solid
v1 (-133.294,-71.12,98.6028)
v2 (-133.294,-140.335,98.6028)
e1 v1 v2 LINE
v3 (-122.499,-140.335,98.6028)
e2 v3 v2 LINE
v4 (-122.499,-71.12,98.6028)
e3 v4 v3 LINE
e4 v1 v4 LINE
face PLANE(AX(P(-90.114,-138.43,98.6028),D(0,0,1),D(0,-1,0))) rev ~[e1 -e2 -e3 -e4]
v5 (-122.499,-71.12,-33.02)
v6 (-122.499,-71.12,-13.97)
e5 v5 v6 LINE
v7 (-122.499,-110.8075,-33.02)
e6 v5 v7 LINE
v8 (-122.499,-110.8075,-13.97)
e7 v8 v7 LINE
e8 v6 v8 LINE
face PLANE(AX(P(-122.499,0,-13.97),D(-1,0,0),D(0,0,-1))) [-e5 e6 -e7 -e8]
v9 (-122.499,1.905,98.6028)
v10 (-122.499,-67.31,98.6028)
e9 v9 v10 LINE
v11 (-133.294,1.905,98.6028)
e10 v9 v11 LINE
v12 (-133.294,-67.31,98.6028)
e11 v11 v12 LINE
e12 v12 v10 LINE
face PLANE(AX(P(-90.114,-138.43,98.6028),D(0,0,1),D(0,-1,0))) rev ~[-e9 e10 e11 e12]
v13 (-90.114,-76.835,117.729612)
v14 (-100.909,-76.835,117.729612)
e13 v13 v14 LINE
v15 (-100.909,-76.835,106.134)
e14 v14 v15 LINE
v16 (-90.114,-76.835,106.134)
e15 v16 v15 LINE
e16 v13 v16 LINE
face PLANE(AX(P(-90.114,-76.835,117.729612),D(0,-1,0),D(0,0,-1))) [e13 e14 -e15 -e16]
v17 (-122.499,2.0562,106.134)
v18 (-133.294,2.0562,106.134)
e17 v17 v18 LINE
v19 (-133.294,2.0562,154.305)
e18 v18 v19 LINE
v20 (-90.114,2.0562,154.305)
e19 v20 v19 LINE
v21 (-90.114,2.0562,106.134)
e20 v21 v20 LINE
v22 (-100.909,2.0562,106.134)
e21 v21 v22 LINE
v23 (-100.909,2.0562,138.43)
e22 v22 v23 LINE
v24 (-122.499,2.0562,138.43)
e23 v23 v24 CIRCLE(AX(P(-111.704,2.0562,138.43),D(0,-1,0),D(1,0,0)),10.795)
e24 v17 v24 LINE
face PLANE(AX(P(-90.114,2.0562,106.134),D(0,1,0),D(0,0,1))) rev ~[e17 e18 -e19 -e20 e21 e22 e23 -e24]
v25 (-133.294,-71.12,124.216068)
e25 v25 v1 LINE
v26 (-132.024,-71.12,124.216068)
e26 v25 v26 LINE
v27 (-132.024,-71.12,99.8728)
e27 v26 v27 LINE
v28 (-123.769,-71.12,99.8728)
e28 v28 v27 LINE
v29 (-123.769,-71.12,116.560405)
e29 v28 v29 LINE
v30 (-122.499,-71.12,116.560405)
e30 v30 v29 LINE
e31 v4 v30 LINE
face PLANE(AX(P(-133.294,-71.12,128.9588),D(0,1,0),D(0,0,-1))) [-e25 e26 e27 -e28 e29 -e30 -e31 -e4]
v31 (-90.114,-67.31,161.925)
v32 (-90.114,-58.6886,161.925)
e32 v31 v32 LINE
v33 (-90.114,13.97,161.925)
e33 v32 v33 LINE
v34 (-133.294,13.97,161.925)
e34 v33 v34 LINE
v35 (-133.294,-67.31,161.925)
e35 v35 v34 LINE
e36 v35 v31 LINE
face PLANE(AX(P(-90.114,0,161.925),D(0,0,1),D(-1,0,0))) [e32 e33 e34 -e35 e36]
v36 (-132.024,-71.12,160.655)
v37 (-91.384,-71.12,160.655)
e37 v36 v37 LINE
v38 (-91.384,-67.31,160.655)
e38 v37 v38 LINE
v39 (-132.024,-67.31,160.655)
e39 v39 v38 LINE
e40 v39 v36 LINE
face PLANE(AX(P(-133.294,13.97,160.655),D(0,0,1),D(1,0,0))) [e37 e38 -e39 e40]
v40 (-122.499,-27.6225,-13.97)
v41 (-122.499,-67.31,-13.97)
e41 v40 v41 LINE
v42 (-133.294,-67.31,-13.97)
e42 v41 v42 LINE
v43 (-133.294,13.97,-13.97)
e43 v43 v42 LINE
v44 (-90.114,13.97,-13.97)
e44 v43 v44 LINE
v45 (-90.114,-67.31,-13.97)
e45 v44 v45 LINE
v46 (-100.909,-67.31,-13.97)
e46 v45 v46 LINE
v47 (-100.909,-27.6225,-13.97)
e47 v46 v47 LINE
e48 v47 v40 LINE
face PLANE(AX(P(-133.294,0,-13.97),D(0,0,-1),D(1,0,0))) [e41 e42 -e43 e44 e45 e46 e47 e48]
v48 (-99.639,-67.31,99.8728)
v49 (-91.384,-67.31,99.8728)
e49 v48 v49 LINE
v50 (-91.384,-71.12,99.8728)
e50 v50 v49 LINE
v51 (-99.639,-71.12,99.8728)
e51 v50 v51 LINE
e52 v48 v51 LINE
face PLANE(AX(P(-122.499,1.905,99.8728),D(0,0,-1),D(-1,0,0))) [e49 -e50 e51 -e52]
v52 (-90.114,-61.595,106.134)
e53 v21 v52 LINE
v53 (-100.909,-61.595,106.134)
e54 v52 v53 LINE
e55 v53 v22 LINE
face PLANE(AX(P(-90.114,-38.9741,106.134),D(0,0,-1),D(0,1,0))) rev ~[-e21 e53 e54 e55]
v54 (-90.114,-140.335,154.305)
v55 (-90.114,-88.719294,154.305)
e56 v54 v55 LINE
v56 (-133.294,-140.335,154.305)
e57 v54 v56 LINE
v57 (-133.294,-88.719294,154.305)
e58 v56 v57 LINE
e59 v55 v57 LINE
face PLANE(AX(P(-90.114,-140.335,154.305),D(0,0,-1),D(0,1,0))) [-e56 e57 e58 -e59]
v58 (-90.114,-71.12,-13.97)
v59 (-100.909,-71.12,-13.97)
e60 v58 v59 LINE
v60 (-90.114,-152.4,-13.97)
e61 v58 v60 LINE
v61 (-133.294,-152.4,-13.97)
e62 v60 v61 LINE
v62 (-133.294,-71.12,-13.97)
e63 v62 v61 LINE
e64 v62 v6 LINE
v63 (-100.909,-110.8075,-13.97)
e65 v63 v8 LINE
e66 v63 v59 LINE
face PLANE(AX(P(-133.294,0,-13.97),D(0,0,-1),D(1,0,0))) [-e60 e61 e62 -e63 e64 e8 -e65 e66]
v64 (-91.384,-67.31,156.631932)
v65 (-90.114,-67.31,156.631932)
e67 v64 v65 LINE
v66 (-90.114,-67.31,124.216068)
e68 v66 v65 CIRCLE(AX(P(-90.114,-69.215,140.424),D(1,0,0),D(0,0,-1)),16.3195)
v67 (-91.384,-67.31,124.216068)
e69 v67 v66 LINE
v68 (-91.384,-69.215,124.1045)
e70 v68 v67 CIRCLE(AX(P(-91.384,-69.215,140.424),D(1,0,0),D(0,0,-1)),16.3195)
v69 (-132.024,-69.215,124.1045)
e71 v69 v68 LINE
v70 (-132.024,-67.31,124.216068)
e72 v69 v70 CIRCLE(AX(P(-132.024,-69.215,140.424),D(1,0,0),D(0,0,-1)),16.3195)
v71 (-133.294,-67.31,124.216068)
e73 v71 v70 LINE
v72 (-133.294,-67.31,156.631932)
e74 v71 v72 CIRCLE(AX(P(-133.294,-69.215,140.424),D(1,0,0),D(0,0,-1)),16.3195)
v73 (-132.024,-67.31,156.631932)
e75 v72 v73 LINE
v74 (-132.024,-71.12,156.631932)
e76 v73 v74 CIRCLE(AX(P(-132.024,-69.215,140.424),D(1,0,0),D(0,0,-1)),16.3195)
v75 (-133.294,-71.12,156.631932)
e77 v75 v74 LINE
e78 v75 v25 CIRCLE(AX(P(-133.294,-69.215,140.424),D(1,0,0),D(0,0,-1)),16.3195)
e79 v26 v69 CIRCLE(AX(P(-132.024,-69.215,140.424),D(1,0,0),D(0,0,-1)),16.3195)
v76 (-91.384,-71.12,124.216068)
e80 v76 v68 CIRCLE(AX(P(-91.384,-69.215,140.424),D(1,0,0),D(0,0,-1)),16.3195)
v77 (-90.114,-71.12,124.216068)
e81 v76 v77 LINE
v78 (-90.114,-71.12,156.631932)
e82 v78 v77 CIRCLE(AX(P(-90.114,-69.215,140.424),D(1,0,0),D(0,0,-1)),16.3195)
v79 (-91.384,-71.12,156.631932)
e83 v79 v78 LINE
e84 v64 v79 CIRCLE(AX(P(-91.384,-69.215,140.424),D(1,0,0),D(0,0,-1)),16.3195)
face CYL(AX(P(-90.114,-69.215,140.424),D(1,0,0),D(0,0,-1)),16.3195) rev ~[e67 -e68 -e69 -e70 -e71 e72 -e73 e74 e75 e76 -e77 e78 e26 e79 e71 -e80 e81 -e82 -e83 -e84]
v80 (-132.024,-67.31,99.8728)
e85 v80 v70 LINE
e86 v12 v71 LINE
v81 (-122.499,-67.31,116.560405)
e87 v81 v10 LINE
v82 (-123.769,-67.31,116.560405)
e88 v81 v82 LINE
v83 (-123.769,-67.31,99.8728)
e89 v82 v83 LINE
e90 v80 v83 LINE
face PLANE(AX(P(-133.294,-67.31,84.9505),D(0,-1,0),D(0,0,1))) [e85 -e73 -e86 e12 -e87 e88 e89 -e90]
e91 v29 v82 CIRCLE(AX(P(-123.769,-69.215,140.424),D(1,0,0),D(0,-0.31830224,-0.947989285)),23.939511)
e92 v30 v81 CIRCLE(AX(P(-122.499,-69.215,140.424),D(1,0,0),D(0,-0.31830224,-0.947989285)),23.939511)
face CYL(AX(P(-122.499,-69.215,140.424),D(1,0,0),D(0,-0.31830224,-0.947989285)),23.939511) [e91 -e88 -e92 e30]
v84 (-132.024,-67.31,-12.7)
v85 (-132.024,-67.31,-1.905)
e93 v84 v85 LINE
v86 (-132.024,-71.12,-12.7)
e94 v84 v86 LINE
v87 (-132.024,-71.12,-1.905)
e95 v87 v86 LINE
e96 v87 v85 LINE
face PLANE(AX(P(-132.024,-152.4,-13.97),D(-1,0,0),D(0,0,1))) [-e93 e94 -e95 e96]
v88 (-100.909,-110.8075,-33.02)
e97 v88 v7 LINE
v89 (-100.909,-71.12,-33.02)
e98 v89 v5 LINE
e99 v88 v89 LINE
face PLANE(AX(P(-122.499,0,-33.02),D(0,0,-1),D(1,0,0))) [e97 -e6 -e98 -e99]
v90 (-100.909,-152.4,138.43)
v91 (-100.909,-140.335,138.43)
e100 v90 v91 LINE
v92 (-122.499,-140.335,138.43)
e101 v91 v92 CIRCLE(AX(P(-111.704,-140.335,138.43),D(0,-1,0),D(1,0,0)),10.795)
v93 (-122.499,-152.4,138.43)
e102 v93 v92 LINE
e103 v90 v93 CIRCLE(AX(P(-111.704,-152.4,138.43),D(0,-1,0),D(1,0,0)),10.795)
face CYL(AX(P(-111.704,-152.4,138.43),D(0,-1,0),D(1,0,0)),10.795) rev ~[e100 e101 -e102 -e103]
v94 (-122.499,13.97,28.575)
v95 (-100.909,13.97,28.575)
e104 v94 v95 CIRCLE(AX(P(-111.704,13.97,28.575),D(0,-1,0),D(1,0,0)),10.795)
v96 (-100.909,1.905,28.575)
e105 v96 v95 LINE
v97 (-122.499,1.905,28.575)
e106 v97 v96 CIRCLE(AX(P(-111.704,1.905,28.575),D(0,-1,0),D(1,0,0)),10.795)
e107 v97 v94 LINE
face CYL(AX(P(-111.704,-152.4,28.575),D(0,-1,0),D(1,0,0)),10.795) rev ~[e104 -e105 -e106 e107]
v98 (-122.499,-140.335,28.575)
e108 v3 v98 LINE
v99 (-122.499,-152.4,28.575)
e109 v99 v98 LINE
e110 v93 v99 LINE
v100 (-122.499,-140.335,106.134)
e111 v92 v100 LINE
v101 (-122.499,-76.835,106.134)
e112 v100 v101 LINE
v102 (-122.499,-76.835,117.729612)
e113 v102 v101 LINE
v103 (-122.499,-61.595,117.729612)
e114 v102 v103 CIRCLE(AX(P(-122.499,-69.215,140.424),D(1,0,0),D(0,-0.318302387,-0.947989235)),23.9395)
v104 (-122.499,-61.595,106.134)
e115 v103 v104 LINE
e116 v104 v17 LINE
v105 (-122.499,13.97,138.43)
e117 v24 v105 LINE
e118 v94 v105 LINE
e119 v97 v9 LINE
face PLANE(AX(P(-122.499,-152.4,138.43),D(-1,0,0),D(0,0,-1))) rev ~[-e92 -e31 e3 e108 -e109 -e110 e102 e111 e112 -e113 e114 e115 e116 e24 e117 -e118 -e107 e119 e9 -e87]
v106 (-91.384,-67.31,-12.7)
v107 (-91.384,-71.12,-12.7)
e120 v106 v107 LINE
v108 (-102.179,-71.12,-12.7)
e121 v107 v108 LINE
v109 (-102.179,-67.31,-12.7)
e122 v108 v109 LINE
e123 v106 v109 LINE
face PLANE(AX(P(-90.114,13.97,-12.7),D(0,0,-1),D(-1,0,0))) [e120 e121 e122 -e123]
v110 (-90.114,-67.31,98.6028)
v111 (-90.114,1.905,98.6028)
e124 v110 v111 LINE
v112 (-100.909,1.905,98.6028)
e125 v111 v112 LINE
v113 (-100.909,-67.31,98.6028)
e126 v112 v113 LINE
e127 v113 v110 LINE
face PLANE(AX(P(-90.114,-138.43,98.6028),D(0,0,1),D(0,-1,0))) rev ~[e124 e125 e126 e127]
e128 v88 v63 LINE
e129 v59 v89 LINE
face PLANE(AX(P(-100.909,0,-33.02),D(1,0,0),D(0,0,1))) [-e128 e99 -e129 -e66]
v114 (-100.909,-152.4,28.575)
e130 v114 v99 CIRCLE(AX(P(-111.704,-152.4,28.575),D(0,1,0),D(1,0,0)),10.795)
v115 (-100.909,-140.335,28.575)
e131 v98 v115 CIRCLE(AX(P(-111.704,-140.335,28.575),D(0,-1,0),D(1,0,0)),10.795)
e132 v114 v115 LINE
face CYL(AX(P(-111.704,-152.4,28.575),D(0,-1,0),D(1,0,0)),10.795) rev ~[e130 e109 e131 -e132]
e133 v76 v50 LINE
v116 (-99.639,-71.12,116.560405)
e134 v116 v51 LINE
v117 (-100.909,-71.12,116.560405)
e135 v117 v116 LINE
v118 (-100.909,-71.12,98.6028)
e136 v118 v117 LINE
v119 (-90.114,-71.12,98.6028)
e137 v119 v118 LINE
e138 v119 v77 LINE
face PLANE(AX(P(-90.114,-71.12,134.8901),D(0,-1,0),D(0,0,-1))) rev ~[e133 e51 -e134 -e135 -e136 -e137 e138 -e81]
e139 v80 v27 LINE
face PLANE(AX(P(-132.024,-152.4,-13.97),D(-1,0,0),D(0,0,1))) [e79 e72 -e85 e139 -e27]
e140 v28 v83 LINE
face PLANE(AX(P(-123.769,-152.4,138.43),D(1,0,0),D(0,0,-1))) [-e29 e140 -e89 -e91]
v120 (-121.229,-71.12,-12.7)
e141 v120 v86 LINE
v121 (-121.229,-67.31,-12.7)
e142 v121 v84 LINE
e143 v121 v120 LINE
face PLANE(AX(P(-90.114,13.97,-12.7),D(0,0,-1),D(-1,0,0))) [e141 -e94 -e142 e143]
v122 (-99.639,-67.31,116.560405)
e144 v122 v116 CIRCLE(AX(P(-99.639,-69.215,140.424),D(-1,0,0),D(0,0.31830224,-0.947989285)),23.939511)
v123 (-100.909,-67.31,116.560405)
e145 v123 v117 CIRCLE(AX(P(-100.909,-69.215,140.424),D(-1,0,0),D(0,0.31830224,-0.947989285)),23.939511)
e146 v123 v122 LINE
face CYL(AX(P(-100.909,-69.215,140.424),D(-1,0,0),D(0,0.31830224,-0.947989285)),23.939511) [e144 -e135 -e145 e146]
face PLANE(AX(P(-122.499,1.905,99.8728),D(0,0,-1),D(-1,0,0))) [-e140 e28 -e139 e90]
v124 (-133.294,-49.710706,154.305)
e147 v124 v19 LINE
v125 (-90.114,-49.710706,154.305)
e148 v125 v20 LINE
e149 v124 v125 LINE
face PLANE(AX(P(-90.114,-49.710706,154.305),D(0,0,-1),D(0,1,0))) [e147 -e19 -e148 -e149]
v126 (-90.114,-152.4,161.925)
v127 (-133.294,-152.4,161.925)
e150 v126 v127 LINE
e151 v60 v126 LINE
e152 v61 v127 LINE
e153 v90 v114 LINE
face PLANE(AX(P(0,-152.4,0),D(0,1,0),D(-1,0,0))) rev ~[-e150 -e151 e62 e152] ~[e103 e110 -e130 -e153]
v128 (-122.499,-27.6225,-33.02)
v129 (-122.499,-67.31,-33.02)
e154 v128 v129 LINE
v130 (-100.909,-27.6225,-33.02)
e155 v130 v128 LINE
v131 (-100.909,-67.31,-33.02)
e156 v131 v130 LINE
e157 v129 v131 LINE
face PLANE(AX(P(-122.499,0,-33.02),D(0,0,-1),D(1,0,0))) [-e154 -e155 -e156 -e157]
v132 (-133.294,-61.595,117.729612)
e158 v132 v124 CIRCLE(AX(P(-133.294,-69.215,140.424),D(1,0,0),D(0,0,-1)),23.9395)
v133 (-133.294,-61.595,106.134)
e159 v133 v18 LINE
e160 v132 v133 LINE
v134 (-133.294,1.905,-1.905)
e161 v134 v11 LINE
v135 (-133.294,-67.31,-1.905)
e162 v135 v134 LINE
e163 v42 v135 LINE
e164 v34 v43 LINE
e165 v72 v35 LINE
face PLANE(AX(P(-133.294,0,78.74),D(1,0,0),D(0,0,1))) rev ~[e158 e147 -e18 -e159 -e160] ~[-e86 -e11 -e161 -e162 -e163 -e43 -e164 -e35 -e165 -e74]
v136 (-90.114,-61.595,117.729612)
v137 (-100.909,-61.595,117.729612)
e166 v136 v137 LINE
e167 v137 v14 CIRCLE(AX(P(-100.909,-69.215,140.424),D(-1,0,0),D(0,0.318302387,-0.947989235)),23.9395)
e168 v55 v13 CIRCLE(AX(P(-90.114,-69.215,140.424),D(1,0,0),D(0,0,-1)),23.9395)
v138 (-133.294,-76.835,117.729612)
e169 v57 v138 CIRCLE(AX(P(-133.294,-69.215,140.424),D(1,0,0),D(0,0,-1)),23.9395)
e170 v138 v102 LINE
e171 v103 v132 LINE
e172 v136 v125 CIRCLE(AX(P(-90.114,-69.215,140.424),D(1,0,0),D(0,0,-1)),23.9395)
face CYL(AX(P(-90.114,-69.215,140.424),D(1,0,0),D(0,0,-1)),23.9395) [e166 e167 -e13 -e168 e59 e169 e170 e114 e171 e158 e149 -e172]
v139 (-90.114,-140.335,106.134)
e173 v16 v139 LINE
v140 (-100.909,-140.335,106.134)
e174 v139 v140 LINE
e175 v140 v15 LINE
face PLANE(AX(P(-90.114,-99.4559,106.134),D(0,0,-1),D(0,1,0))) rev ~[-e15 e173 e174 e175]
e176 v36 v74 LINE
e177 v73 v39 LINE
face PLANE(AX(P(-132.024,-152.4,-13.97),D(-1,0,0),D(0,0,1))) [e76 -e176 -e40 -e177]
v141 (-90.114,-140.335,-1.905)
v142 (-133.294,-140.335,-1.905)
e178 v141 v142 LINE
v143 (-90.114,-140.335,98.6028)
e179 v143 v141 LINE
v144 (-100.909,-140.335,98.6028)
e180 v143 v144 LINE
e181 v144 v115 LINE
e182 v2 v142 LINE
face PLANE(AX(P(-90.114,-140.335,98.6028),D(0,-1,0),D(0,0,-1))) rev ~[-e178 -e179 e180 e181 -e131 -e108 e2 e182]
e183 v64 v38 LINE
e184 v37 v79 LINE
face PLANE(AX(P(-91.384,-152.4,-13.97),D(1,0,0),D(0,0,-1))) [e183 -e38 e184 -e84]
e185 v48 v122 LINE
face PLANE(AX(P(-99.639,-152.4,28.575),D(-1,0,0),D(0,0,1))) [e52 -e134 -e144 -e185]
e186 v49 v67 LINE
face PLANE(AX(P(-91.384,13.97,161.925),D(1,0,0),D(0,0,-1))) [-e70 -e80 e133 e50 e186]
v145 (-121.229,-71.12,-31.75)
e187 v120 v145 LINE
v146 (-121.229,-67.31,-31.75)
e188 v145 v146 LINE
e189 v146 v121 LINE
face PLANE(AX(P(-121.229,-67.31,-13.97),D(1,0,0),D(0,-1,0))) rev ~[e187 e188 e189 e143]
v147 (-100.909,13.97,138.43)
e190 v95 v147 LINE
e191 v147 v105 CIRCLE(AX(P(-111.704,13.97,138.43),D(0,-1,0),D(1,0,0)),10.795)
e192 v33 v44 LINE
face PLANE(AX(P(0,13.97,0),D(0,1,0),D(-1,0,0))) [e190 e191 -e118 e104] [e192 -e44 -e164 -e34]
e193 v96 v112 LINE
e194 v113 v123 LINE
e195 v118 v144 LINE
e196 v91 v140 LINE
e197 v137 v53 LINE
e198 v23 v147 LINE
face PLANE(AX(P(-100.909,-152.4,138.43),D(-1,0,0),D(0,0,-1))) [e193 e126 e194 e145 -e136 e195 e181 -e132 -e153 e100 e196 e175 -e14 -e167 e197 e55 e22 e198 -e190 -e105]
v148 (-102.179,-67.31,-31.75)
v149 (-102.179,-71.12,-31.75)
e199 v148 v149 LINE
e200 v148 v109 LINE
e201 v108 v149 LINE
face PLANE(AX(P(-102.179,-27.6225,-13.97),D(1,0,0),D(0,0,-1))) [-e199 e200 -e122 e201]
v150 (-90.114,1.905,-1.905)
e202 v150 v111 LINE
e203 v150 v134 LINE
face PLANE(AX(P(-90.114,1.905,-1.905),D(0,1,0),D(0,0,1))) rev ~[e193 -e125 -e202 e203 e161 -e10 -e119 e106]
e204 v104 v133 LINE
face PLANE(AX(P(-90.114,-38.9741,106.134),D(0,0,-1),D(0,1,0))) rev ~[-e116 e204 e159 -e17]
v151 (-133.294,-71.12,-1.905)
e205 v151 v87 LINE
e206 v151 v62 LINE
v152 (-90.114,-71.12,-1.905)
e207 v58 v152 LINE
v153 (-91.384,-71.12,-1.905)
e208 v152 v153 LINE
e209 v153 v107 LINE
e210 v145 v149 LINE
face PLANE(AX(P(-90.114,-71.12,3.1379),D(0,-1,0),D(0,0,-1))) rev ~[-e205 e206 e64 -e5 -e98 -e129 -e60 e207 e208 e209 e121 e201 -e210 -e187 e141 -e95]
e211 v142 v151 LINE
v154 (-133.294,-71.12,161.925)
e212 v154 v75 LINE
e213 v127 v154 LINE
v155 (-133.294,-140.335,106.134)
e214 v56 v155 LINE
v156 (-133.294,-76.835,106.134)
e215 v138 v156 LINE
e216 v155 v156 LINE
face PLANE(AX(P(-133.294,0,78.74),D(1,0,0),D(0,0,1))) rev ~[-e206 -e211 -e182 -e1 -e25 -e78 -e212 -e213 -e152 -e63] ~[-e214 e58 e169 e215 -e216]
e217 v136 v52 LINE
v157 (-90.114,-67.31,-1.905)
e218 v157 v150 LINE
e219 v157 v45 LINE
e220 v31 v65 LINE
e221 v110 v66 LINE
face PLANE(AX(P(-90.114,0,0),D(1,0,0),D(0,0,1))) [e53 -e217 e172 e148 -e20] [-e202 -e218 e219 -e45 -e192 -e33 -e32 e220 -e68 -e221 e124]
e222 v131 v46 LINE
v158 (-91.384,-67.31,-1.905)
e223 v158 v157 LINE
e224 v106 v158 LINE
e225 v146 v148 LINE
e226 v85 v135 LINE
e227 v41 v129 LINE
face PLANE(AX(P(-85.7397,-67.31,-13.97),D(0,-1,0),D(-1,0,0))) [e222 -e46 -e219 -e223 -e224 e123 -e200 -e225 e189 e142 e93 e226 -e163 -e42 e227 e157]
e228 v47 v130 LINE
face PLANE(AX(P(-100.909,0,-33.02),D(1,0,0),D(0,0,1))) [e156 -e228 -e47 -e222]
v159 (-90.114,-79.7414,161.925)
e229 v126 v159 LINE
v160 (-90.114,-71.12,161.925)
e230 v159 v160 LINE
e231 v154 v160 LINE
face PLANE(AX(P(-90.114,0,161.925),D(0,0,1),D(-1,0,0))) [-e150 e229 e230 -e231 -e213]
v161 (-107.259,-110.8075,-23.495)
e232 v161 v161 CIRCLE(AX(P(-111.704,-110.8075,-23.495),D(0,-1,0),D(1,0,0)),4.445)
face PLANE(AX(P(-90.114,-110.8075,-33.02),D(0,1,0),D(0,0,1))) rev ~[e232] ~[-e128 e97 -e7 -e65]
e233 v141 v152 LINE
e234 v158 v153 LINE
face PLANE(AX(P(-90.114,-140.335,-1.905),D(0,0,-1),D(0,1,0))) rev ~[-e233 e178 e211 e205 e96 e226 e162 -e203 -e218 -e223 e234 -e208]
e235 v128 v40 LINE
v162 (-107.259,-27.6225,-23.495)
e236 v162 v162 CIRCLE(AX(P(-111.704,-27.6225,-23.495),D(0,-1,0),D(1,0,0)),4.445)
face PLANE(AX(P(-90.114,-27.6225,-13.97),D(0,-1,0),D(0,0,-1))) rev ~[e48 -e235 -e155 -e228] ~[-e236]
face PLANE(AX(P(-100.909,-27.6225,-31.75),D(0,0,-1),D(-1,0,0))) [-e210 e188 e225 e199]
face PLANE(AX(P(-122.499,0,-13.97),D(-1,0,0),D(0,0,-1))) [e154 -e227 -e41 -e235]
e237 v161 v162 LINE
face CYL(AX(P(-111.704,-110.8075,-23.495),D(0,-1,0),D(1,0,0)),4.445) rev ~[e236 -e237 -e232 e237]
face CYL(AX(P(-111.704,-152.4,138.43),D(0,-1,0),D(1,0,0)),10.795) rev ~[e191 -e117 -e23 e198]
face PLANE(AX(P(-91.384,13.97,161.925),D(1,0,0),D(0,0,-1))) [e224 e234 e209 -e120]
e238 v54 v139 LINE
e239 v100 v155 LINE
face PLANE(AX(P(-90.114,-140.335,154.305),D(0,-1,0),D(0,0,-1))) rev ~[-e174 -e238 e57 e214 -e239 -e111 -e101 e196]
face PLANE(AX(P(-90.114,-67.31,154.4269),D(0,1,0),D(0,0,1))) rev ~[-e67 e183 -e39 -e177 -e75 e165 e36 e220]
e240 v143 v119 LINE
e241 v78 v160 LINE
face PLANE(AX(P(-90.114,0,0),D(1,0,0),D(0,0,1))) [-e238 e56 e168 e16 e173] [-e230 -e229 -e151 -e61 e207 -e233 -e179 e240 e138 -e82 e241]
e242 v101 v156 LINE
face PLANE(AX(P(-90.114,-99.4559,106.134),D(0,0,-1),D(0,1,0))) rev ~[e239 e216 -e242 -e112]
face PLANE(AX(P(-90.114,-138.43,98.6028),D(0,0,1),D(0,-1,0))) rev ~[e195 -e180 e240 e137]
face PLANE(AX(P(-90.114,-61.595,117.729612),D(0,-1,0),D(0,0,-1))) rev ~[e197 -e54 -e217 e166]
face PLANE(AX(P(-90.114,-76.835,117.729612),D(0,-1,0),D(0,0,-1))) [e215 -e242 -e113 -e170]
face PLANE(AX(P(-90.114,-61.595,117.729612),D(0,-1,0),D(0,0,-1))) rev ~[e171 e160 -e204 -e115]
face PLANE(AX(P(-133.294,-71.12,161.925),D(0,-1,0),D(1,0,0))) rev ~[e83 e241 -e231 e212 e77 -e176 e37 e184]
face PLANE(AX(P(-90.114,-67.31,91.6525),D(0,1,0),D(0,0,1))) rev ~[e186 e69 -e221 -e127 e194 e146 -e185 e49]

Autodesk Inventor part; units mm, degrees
ref_plane "YZ Plane" through (0, 0, 0) normal (1, 0, 0) x (0, 1, 0)
ref_plane "XZ Plane" through (0, 0, 0) normal (0, 1, 0) x (-1, 0, 0)
ref_plane "XY Plane" through (0, 0, 0) normal (0, 0, 1) x (1, 0, 0)
sketch "Sketch1" plane through (0, 0, 0) normal (0, 1, 0) x (-1, 0, 0)
  line L0 (920.75, 0) -> (0, 0)
  line L1 (0, 0) -> (920.75, 0)
  line L2 (-297.6389, 409.8513) -> (2710.7909, 409.8513) construction
  line L3 (2710.7909, 409.8513) -> (2710.7909, -1716.9746) construction
  line L4 (2710.7909, -1716.9746) -> (-297.6389, -1716.9746) construction
  line L5 (-297.6389, -1716.9746) -> (-297.6389, 409.8513) construction
  line L6 (0, 0) -> (920.75, 0)
  line L7 (920.75, 0) -> (920.75, 100.33)
  line L8 (0, 100.33) -> (920.75, 100.33)
  line L9 (0, 0) -> (0, 100.33)
  line L10 (0, 100.33) -> (0, 120.65)
  line L11 (0, 120.65) -> (920.75, 120.65)
  line L12 (920.75, 120.65) -> (920.75, 100.33)
  line L13 (0, 120.65) -> (0, 196.85)
  line L14 (920.75, 196.85) -> (920.75, 120.65)
  line L15 (477.9962, 0) -> (477.9962, -13.97)
  line L16 (477.9962, -13.97) -> (434.8162, -13.97)
  line L17 (434.8162, -13.97) -> (434.8162, 0)
  line L18 (133.294, 0) -> (133.294, -13.97)
  line L19 (133.294, -13.97) -> (90.114, -13.97)
  line L20 (90.114, -13.97) -> (90.114, 0)
  line L21 (769.0257, 0) -> (769.0257, -13.97)
  line L22 (769.0257, -13.97) -> (812.2057, -13.97)
  line L23 (812.2057, -13.97) -> (812.2057, 0)
  line L24 (434.8162, -13.97) -> (477.9962, -13.97)
  line L25 (769.0257, -13.97) -> (812.2057, -13.97)
  line L26 (90.114, -13.97) -> (133.294, -13.97)
  line L27 (90.114, -13.97) -> (111.704, -13.97)
  line L28 (111.704, -13.97) -> (100.909, -13.97)
  line L29 (100.909, -13.97) -> (122.499, -13.97)
  line L30 (122.499, -13.97) -> (122.499, -33.02)
  line L31 (122.499, -33.02) -> (100.909, -33.02)
  line L32 (100.909, -33.02) -> (100.909, -13.97)
  line L33 (434.8162, -13.97) -> (456.4062, -13.97)
  line L34 (456.4062, -13.97) -> (445.6112, -13.97)
  line L35 (445.6112, -13.97) -> (467.2012, -13.97)
  line L36 (467.2012, -13.97) -> (467.2012, -33.02)
  line L37 (467.2012, -33.02) -> (445.6112, -33.02)
  line L38 (445.6112, -33.02) -> (445.6112, -13.97)
  line L39 (769.0257, -13.97) -> (790.6157, -13.97)
  line L40 (790.6157, -13.97) -> (779.8207, -13.97)
  line L41 (779.8207, -13.97) -> (801.4107, -13.97)
  line L42 (801.4107, -13.97) -> (801.4107, -33.02)
  line L43 (801.4107, -33.02) -> (779.8207, -33.02)
  line L44 (779.8207, -33.02) -> (779.8207, -13.97)
  line L45 (434.8162, 0) -> (413.2262, 0)
  line L46 (413.2262, 0) -> (413.2262, -11.43)
  line L47 (413.2262, -11.43) -> (371.9512, -11.43)
  line L48 (371.9512, -11.43) -> (371.9512, 64.77)
  arc A0 (413.2262, 72.0379) -> (371.9512, 72.0379) centre (392.5887, 68.404) ccw
  line L49 (413.2262, 0) -> (413.2262, 64.77)
  line L50 (371.9512, 64.77) -> (371.9512, 72.0379)
  line L51 (413.2262, 64.77) -> (413.2262, 72.0379)
  line L52 (434.8162, -13.97) -> (434.8162, 202.565)
  line L53 (477.9962, -13.97) -> (477.9962, 202.565)
  line L54 (769.0257, -13.97) -> (769.0257, 202.565)
  line L55 (812.2057, -13.97) -> (812.2057, 202.565)
  line L56 (812.2057, 202.565) -> (769.0257, 202.565)
  line L57 (477.9962, 202.565) -> (434.8162, 202.565)
  line L58 (133.294, -13.97) -> (133.294, 182.245)
  line L59 (90.114, -13.97) -> (90.114, 182.245)
  line L60 (90.114, 182.245) -> (133.294, 182.245)
  line L61 (67.3834, 182.245) -> (164.6776, 182.245)
  line L62 (413.2262, 202.565) -> (508.4774, 202.565)
  line L63 (745.5808, 202.565) -> (847.3717, 202.565)
  line L64 (67.3834, 161.925) -> (164.6776, 161.925)
  line L65 (413.2262, 182.245) -> (508.4774, 182.245)
  line L66 (745.5808, 182.245) -> (847.3717, 182.245)
  line L67 (133.294, -13.97) -> (133.294, 78.74)
  line L68 (133.294, 78.74) -> (434.8162, 78.74)
  line L69 (133.294, -13.97) -> (133.294, 26.67)
  line L70 (133.294, 26.67) -> (371.9512, 26.67)
  line L71 (133.294, 26.67) -> (298.394, 26.67)
  line L72 (298.394, 26.67) -> (317.7759, 78.74)
  line L73 (133.294, 78.74) -> (133.294, 59.055)
  line L74 (133.294, 59.055) -> (310.4486, 59.055)
  point P0 (133.294, 161.925)
  point P1 (90.114, 161.925)
  dimension "d0" = 920.75
  dimension "d1" = 20.32
  dimension "d2" = 76.2
  dimension "d3" = 13.97
  dimension "d4" = 43.18
  dimension "d5" = 13.97
  dimension "d6" = 43.18
  dimension "d7" = 13.97
  dimension "d8" = 13.97
  dimension "d9" = 43.18
  dimension "d10" = 21.59
  dimension "d11" = 19.05
  dimension "d12" = 21.59
  dimension "d13" = 19.05
  dimension "d14" = 21.59
  dimension "d15" = 19.05
  dimension "d16" = 21.59
  dimension "d17" = 11.43
  dimension "d18" = 41.275
  dimension "d19" = 76.2
  dimension "d20" = 20.955
  dimension "d21" = 216.535
  dimension "d22" = 216.535
  dimension "d23" = 216.535
  dimension "d24" = 216.535
  dimension "d25" = 196.215
  dimension "d26" = 20.32
  dimension "d27" = 20.32
  dimension "d28" = 20.32
  dimension "d29" = 92.71
  dimension "d30" = 40.64
  dimension "d31" = 165.1
  dimension "d32" = 19.685
extrude "Extrusion1" add sketch "Sketch1" along normal blind 13.97 and the other way blind 152.4 contours L58 L0 L59 L8 | L8 L59 L11 L58 | L18 L19 L20 L0 | L11 L59 L64 L58 | L30 L31 L32 L19
sketch "Sketch2" plane through (-90.114, -152.4, -13.97) normal (1, 0, 0) x (0, 0, -1)
  line L0 (0, 0) -> (0, 166.37) projected
  line L1 (-175.895, 166.37) -> (0, 166.37) projected
  line L2 (-175.895, 166.37) -> (-175.895, 0) projected
  line L3 (0, 0) -> (-175.895, 0) projected
  line L4 (-13.97, 152.4) -> (-13.97, 13.97)
  line L5 (-13.97, 13.97) -> (-161.925, 13.97)
  line L6 (-161.925, 13.97) -> (-161.925, 152.4)
  line L7 (-161.925, 152.4) -> (-13.97, 152.4)
  line L8 (-12.065, 12.065) -> (-12.065, 154.305)
  line L9 (-12.065, 154.305) -> (-163.83, 154.305)
  line L10 (-163.83, 154.305) -> (-163.83, 12.065)
  line L11 (-163.83, 12.065) -> (-12.065, 12.065)
  line L12 (-12.065, 70.3973) -> (-112.5728, 70.3973)
  line L13 (-112.5728, 70.3973) -> (-112.5728, 191.5999)
  line L14 (-112.5728, 70.3973) -> (-112.5728, -17.578)
  circle A0 centre (-150.6728, 83.185) radius 38.1
  line L15 (0, 0) -> (19.05, 0) projected
  line L16 (0, 0) -> (0, 83.185)
  line L17 (0, 0) -> (0, 166.37) projected
  line L18 (19.05, 166.37) -> (0, 166.37) projected
  line L19 (0, 166.37) -> (0, 83.185)
  line L20 (0, 124.7775) -> (67.1734, 124.7775)
  line L21 (67.1734, 124.7775) -> (67.1734, 184.1281)
  line L22 (67.1734, 184.1281) -> (0, 184.1281)
  line L23 (0, 184.1281) -> (0, 124.7775)
  line L24 (19.05, 0) -> (19.05, 166.37) projected
  line L25 (19.05, 0) -> (19.05, 83.185)
  line L26 (19.05, 41.5925) -> (0, 41.5925)
  line L27 (0, 41.5925) -> (0, -34.1667)
  line L28 (0, -34.1667) -> (19.05, -34.1667)
  line L29 (19.05, -34.1667) -> (19.05, 41.5925)
  point P0 (-13.97, 152.4)
  point P1 (-112.5728, 12.065)
  point P2 (-112.5728, 154.305)
  dimension "d39" = 13.97
  dimension "d40" = 1.905
  dimension "d41" = 100.5078
extrude "Extrusion2" cut sketch "Sketch2" against normal through all contours L0 L26 L24 L15 | L15 L29 L28 L27 | L14 L5 L4 L12 L8 L11 | L0 L18 L24 L20 | L14 L12 L4 L5 | L23 L22 L21 L20 L24 L18 | L12 L4 L7 L13 L9 L8 | L13 L7 L4 L12
sketch "Sketch3" plane through (-90.114, -152.4, -13.97) normal (1, 0, 0) x (0, 0, -1)
  line L0 (-196.2151, 166.37) -> (-196.2151, 0)
  line L1 (-12.0651, 154.305) -> (-112.5729, 154.305)
  line L2 (-12.0651, 12.065) -> (-12.0651, 154.305)
  line L3 (-0.0001, 0) -> (-0.0001, 166.37)
  line L4 (-112.5729, 12.065) -> (-12.0651, 12.065)
  line L5 (-0.0001, 166.37) -> (-196.2151, 166.37)
  line L6 (-196.2151, 0) -> (-0.0001, 0)
  line L7 (-112.5729, 154.305) -> (-112.5729, 12.065)
  line L8 (-120.104, 12.065) -> (-120.104, 52.9441)
  circle A0 centre (-154.394, 83.185) radius 38.1
  arc A1 (-188.684, 52.9441) -> (-120.104, 52.9441) centre (-154.394, 83.185) ccw
  line L9 (-188.684, 52.9441) -> (-188.684, 12.065)
  line L10 (-188.684, 12.065) -> (-120.104, 12.065)
  line L11 (-42.5451, 166.37) -> (-42.5451, 154.305)
  line L12 (-120.104, 113.4259) -> (-120.104, 154.4562)
  arc A2 (-120.104, 113.4259) -> (-188.684, 113.4259) centre (-154.394, 83.185) ccw
  line L13 (-188.684, 154.4562) -> (-188.684, 113.4259)
  line L14 (-120.104, 154.4562) -> (-188.684, 154.4562)
  circle A3 centre (-154.394, 83.185) radius 16.3195
  point P0 (-182.2451, 152.4)
  point P1 (-13.9701, 152.4)
  dimension "d46" = 32.639
extrude "Extrusion3" cut sketch "Sketch3" against normal through all contours A3
sketch "Sketch4" plane through (-90.114, -152.4, -13.97) normal (1, 0, 0) x (0, 0, -1)
  line L0 (-196.2151, 166.37) -> (-196.2151, 0)
  line L1 (-120.104, 113.4259) -> (-120.104, 154.4562)
  line L2 (-120.104, 12.065) -> (-120.104, 52.9441)
  line L3 (-120.104, 154.4562) -> (-188.684, 154.4562)
  line L4 (-188.684, 154.4562) -> (-188.684, 113.4259)
  line L5 (-188.684, 52.9441) -> (-188.684, 12.065)
  line L6 (-188.684, 12.065) -> (-120.104, 12.065)
  line L7 (-12.0651, 154.305) -> (-112.5729, 154.305)
  line L8 (-12.0651, 12.065) -> (-12.0651, 154.305)
  line L9 (-112.5729, 154.305) -> (-112.5729, 12.065)
  line L10 (-0.0001, 166.37) -> (-196.2151, 166.37)
  line L11 (-196.2151, 0) -> (-0.0001, 0)
  line L12 (-112.5729, 12.065) -> (-12.0651, 12.065)
  line L13 (-42.5451, 166.37) -> (-42.5451, 154.305)
  line L14 (-0.0001, 0) -> (-0.0001, 166.37)
  circle A0 centre (-154.394, 83.185) radius 16.3195
  circle A1 centre (-154.394, 83.185) radius 23.9395
  circle A2 centre (-154.394, 83.185) radius 16.3195 projected
  line L15 (-138.0745, 83.185) -> (-107.0212, 83.185)
  line L16 (-138.0745, 90.805) -> (-107.0212, 90.805)
  line L17 (-138.0745, 75.565) -> (-107.0212, 75.565)
  line L18 (-138.0745, 75.565) -> (-139.9627, 75.565)
  line L19 (-138.0745, 90.805) -> (-139.9627, 90.805)
  circle A3 centre (-154.394, 83.185) radius 16.3195 projected
  line L20 (-12.065, 12.065) -> (-112.5728, 12.065) projected
  line L21 (-112.5728, 12.065) -> (-112.5728, 154.305) projected
  line L22 (-112.5728, 154.305) -> (-12.065, 154.305) projected
  line L23 (-12.065, 154.305) -> (-12.065, 12.065) projected
  line L24 (0, 0) -> (0, 166.37) projected
  line L25 (-175.895, 166.37) -> (0, 166.37) projected
  line L26 (-175.895, 166.37) -> (-175.895, 0) projected
  line L27 (0, 0) -> (-175.895, 0) projected
  line L28 (-175.895, -12.7057) -> (-175.895, 174.9983)
  line L29 (-168.275, -12.7057) -> (-168.275, 174.9983)
  line L30 (-120.104, 52.9441) -> (-120.104, 113.4259)
  point P0 (-13.97, 152.4)
  point P1 (-182.2451, 152.4)
  point P2 (-13.9701, 152.4)
  point P3 (-168.275, 154.4562)
  point P4 (-168.275, 102.6893)
  point P5 (-131.6996, 90.805)
  point P6 (-120.104, 90.805)
  point P7 (-120.104, 75.565)
  point P8 (-131.6996, 75.565)
  point P9 (-168.275, 63.6807)
  point P10 (-168.275, 12.065)
  dimension "d49" = 32.639
  dimension "d50" = 47.879
  dimension "d51" = 7.62
  dimension "d52" = 7.62
  dimension "d53" = 7.62
extrude "Extrusion4" cut sketch "Sketch4" against normal through all contours L3 L1 L30 L16 A1 L29 | L29 A1 L17 L30 L2 L6
sketch "Sketch5" plane through (0, -152.4, 0) normal (0, -1, 0) x (1, 0, 0)
  line L0 (-90.114, -13.97) -> (-133.294, -13.97) projected
  line L1 (-111.704, -13.97) -> (-111.704, 17.78)
  line L2 (-133.294, 161.925) -> (-90.114, 161.925) projected
  line L3 (-111.704, 161.925) -> (-111.704, 149.225)
  circle A0 centre (-111.704, 28.575) radius 10.795
  circle A1 centre (-111.704, 138.43) radius 10.795
  line L4 (-90.114, -13.97) -> (-90.114, 161.925) projected
  line L5 (-122.499, 143.9608) -> (-122.499, 4.5606)
  line L6 (-100.909, 151.8855) -> (-100.909, 12.2046)
  point P0 (0, 0)
  point P1 (-122.499, 138.43)
  point P2 (-122.499, 28.575)
  point P3 (-100.909, 28.575)
  point P4 (-100.909, 138.43)
  dimension "d0" = 920.75
  dimension "d56" = 31.75
  dimension "d57" = 12.7
  dimension "d60" = 21.59
  dimension "d61" = 42.545
  dimension "d62" = 21.59
  dimension "d63" = 21.59
  dimension "d64" = 21.59
  dimension "d65" = 23.495
extrude "Extrusion5" cut sketch "Sketch5" against normal through all contours A0 | A0 L5 A1 L6 | A1
sketch "Sketch6" plane through (-90.114, -152.4, -13.97) normal (1, 0, 0) x (0, 0, -1)
  circle A0 centre (-154.394, 83.185) radius 16.3195 projected
  circle A1 centre (-154.394, 83.185) radius 23.9395
  circle A2 centre (-154.394, 83.185) radius 16.3195
  line L0 (-175.895, 166.37) -> (-175.895, 0) projected
  line L1 (-175.895, 72.6586) -> (-175.895, 93.7114)
  point P0 (-13.97, 152.4)
  dimension "d68" = 32.639
extrude "Extrusion6" add sketch "Sketch6" against normal blind 34.29 contours A1 L0 picked at (-174.1678, 83.185)
sketch "Sketch7" plane through (-122.499, -110.8075, -13.97) normal (0, -1, 0) x (1, 0, 0)
  line L0 (21.59, -19.05) -> (0, -19.05) projected
  line L1 (0, -19.05) -> (21.59, -19.05)
  line L2 (21.59, -19.05) -> (21.59, 0)
  line L3 (-10.795, 0) -> (32.385, 0) projected
  circle A0 centre (10.795, -9.525) radius 4.445
  point P0 (122.499, 13.97)
  dimension "d71" = 8.89
extrude "Extrusion7" cut sketch "Sketch7" against normal through all
sketch "Sketch8" plane through (-133.294, 13.97, 161.925) normal (0, 0, 1) x (1, 0, 0)
  line L0 (32.385, -11.9138) -> (32.385, -75.565) projected
  line L1 (0, -166.37) -> (0, 0) projected
  line L2 (43.18, 0) -> (43.18, -166.37) projected
  line L3 (0, 0) -> (43.18, 0) projected
  line L4 (0, -166.37) -> (0, 0) projected
  line L5 (43.18, -166.37) -> (0, -166.37) projected
  line L6 (0, -154.305) -> (0, -12.065) projected
  line L7 (0, -83.185) -> (85.68, -83.185)
  line L8 (0, -81.28) -> (85.68, -81.28)
  line L9 (0, -85.09) -> (85.68, -85.09)
  point P0 (133.294, -13.97)
  point P1 (43.18, -85.09)
  point P2 (43.18, -81.28)
  dimension "d74" = 1.905
  dimension "d75" = 1.905
extrude "Extrusion8" cut sketch "Sketch8" against normal blind 1.27 contours L1 L7 L2 L9 | L1 L8 L2 L7
sketch "Sketch9" plane through (-90.114, -152.4, -13.97) normal (1, 0, 0) x (0, 0, -1)
  line L0 (-175.895, 81.28) -> (-174.625, 81.28) projected
  line L1 (-175.26, 81.28) -> (-168.3969, 81.28)
  line L2 (-168.3969, 81.28) -> (-168.3969, 85.09)
  line L3 (-168.3969, 85.09) -> (-175.26, 85.09)
  line L4 (-175.26, 85.09) -> (-175.26, 81.28)
  point P0 (-13.97, 152.4)
extrude "Extrusion9" cut sketch "Sketch9" against normal blind 1.27
sketch "Sketch10" plane through (-133.294, -152.4, -13.97) normal (-1, 0, 0) x (0, 0, 1)
  line L0 (175.895, 81.28) -> (174.625, 81.28) projected
  line L1 (175.26, 81.28) -> (168.0363, 81.28)
  line L2 (168.0363, 81.28) -> (168.0363, 85.09)
  line L3 (168.0363, 85.09) -> (175.26, 85.09)
  line L4 (175.26, 85.09) -> (175.26, 81.28)
  point P0 (13.97, 152.4)
extrude "Extrusion10" cut sketch "Sketch10" against normal blind 1.27
sketch "Sketch11" plane through (-122.499, -110.8075, -33.02) normal (-1, 0, 0) x (0, 0, 1)
  line L0 (19.05, 83.185) -> (0, 83.185) projected
  line L1 (0, 0) -> (0, 83.185) projected
  line L2 (0, 0) -> (19.05, 0) projected
  line L3 (19.05, 0) -> (19.05, 83.185) projected
  line L4 (0, 0) -> (0, 83.185) projected
  line L5 (0, 41.5925) -> (46.553, 41.5925)
  line L6 (0, 39.6875) -> (46.553, 39.6875)
  line L7 (0, 43.4975) -> (46.553, 43.4975)
  point P0 (33.02, 110.8075)
  point P1 (19.05, 43.4975)
  point P2 (0, 43.4975)
  point P3 (0, 39.6875)
  point P4 (19.05, 39.6875)
  dimension "d82" = 1.905
  dimension "d83" = 1.905
extrude "Extrusion11" cut sketch "Sketch11" against normal blind 1.27 contours L3 L5 L1 L7 | L3 L6 L1 L5
sketch "Sketch12" plane through (-133.294, -152.4, -13.97) normal (-1, 0, 0) x (0, 0, 1)
  line L0 (-19.05, 85.09) -> (0, 85.09) projected
  line L1 (-1.3457, 85.09) -> (16.2492, 85.09)
  line L2 (16.2492, 85.09) -> (16.2492, 81.28)
  line L3 (16.2492, 81.28) -> (-1.3457, 81.28)
  line L4 (-1.3457, 81.28) -> (-1.3457, 85.09)
  point P0 (13.97, 152.4)
extrude "Extrusion12" cut sketch "Sketch12" against normal blind 1.27
sketch "Sketch13" plane through (-90.114, 13.97, -13.97) normal (0, 0, -1) x (-1, 0, 0)
  line L0 (0, -85.09) -> (43.18, -85.09) projected
  line L1 (42.667, -85.09) -> (-4.3743, -85.09)
  line L2 (-4.3743, -85.09) -> (-4.3743, -81.28)
  line L3 (-4.3743, -81.28) -> (42.667, -81.28)
  line L4 (42.667, -81.28) -> (42.667, -85.09)
  line L5 (31.115, -81.28) -> (31.115, -85.09) projected
  line L6 (31.115, -85.09) -> (31.115, -81.28)
  line L7 (10.795, -124.7775) -> (10.795, -41.5925) projected
  line L8 (10.795, -85.09) -> (10.795, -81.28)
  point P0 (-90.114, -13.97)
extrude "Extrusion13" cut sketch "Sketch13" against normal blind 1.27 contours L1 L2 L3 L7 L0 | L5 L3 L4 L0
sketch "Sketch14" plane through (-100.909, -27.6225, -33.02) normal (0, 0, -1) x (-1, 0, 0)
  line L0 (32.385, -43.4975) -> (21.59, -43.4975) projected
  line L1 (32.385, -39.6875) -> (-10.795, -39.6875) projected
  line L2 (21.9999, -43.4975) -> (-3.8997, -43.4975)
  line L3 (-3.8997, -43.4975) -> (-3.8997, -39.6875)
  line L4 (-3.8997, -39.6875) -> (21.9999, -39.6875)
  line L5 (21.9999, -39.6875) -> (21.9999, -43.4975)
  point P0 (-100.909, 27.6225)
extrude "Extrusion14" cut sketch "Sketch14" against normal blind 1.27
sketch "Sketch15" plane through (-100.909, -27.6225, -13.97) normal (1, 0, 0) x (0, 0, -1)
  line L0 (-12.065, -43.4975) -> (0, -43.4975) projected
  line L1 (-0.6678, -43.4975) -> (23.2828, -43.4975)
  line L2 (23.2828, -43.4975) -> (23.2828, -39.6875)
  line L3 (23.2828, -39.6875) -> (-0.6678, -39.6875)
  line L4 (-0.6678, -39.6875) -> (-0.6678, -43.4975)
  line L5 (-1.27, -43.4975) -> (-1.27, -39.6875) projected
  line L6 (19.05, -39.6875) -> (0, -39.6875) projected
  line L7 (-1.27, -43.4975) -> (8.5133, -43.4975)
  line L8 (8.5133, -43.4975) -> (8.5133, -39.6875)
  line L9 (8.5133, -39.6875) -> (-1.27, -39.6875)
  line L10 (-1.27, -39.6875) -> (-1.27, -43.4975)
  point P0 (-13.97, 27.6225)
extrude "Extrusion15" cut sketch "Sketch15" against normal blind 1.27
sketch "Sketch16" plane through (-90.114, 13.97, 161.925) normal (1, 0, 0) x (0, 0, -1)
  line L0 (194.945, -81.28) -> (175.895, -81.28) projected
  line L1 (177.3654, -81.28) -> (158.7871, -81.28)
  line L2 (158.7871, -81.28) -> (158.7871, -85.09)
  line L3 (158.7871, -85.09) -> (177.3654, -85.09)
  line L4 (177.3654, -85.09) -> (177.3654, -81.28)
  point P0 (161.925, -13.97)
extrude "Extrusion16" cut sketch "Sketch16" against normal blind 1.27
sketch "Sketch17" plane through (-133.294, -152.4, -13.97) normal (-1, 0, 0) x (0, 0, 1)
  line L0 (12.065, 85.09) -> (1.27, 85.09) projected
  line L1 (170.6019, 81.28) -> (175.895, 81.28) projected
  line L2 (4.2707, 85.09) -> (173.2485, 85.09)
  line L3 (173.2485, 85.09) -> (173.2485, 81.28)
  line L4 (173.2485, 81.28) -> (4.2707, 81.28)
  line L5 (4.2707, 81.28) -> (4.2707, 85.09)
  line L6 (142.9288, 85.09) -> (98.9205, 85.09)
  line L7 (98.9205, 85.09) -> (98.9205, 81.28)
  line L8 (98.9205, 81.28) -> (142.9288, 81.28)
  line L9 (142.9288, 81.28) -> (142.9288, 85.09)
  point P0 (13.97, 152.4)
extrude "Extrusion17" cut sketch "Sketch17" against normal blind 1.27 contours L2 L9 L4 L7
sketch "Sketch18" plane through (-90.114, 13.97, 161.925) normal (1, 0, 0) x (0, 0, -1)
  line L0 (175.895, -81.28) -> (163.83, -81.28) projected
  line L1 (0, -85.09) -> (5.2931, -85.09) projected
  line L2 (169.8625, -81.28) -> (3.2831, -81.28)
  line L3 (3.2831, -81.28) -> (3.2831, -85.09)
  line L4 (3.2831, -85.09) -> (169.8625, -85.09)
  line L5 (169.8625, -85.09) -> (169.8625, -81.28)
  line L6 (27.0349, -85.09) -> (70.2725, -85.09)
  line L7 (70.2725, -85.09) -> (70.2725, -81.28)
  line L8 (70.2725, -81.28) -> (27.0349, -81.28)
  line L9 (27.0349, -81.28) -> (27.0349, -85.09)
  point P0 (161.925, -13.97)
extrude "Extrusion18" cut sketch "Sketch18" against normal blind 1.27 contours L7 L4 L9 L2
sketch "Sketch19" plane through (-122.499, 1.905, 98.6028) normal (0, 0, -1) x (-1, 0, 0)
  line L0 (9.525, -69.215) -> (10.795, -69.215) projected
  line L1 (-31.115, -73.025) -> (-32.385, -73.025) projected
  line L2 (10.795, -69.215) -> (-32.385, -69.215)
  line L3 (-32.385, -69.215) -> (-32.385, -73.025)
  line L4 (-32.385, -73.025) -> (10.795, -73.025)
  line L5 (10.795, -73.025) -> (10.795, -69.215)
  point P0 (-122.499, -1.905)
extrude "Extrusion19" cut sketch "Sketch19" against normal blind 1.27
sketch "Sketch20" plane through (-100.909, -152.4, 28.575) normal (-1, 0, 0) x (0, 0, 1)
  line L0 (70.0278, 85.09) -> (71.2978, 85.09) projected
  line L1 (71.2978, 85.09) -> (71.2978, 81.28) projected
  line L2 (71.2978, 81.28) -> (70.0278, 81.28) projected
  line L3 (70.0278, 12.065) -> (70.0278, 81.28) projected
  line L4 (0, 12.065) -> (70.0278, 12.065) projected
  line L5 (0, 0) -> (0, 12.065) projected
  line L6 (109.855, 0) -> (0, 0) projected
  line L7 (109.855, 0) -> (109.855, 12.065) projected
  line L8 (77.559, 12.065) -> (109.855, 12.065) projected
  line L9 (77.559, 75.565) -> (77.559, 12.065) projected
  line L10 (89.1546, 75.565) -> (77.559, 75.565) projected
  arc A0 (89.1546, 90.805) -> (89.1546, 75.565) centre (111.849, 83.185) ccw projected
  line L11 (77.559, 90.805) -> (89.1546, 90.805) projected
  line L12 (77.559, 154.4562) -> (77.559, 90.805) projected
  line L13 (109.855, 154.4562) -> (77.559, 154.4562) projected
  line L14 (109.855, 154.4562) -> (109.855, 166.37) projected
  line L15 (0, 166.37) -> (109.855, 166.37) projected
  line L16 (0, 154.305) -> (0, 166.37) projected
  line L17 (70.0278, 154.305) -> (0, 154.305) projected
  line L18 (70.0278, 85.09) -> (70.0278, 154.305) projected
  line L19 (70.0278, 85.09) -> (91.0706, 85.09)
  line L20 (91.0706, 85.09) -> (91.0706, 81.28)
  line L21 (91.0706, 81.28) -> (70.0278, 81.28)
  line L22 (70.0278, 81.28) -> (70.0278, 85.09)
  point P0 (-28.575, 152.4)
  point P1 (87.9854, 81.28)
  point P2 (87.9854, 85.09)
extrude "Extrusion20" cut sketch "Sketch20" against normal blind 1.27 contours L19 A0 L21 L1
sketch "Sketch21" plane through (-122.499, -152.4, 138.43) normal (1, 0, 0) x (0, 0, -1)
  line L0 (38.5572, 85.09) -> (39.8272, 85.09) projected
  line L1 (39.8272, 154.305) -> (39.8272, 85.09) projected
  line L2 (109.855, 154.305) -> (39.8272, 154.305) projected
  line L3 (109.855, 154.305) -> (109.855, 166.37) projected
  line L4 (0, 166.37) -> (109.855, 166.37) projected
  line L5 (0, 154.4562) -> (0, 166.37) projected
  line L6 (32.296, 154.4562) -> (0, 154.4562) projected
  line L7 (32.296, 90.805) -> (32.296, 154.4562) projected
  line L8 (20.7004, 90.805) -> (32.296, 90.805) projected
  arc A0 (20.7004, 75.565) -> (20.7004, 90.805) centre (-1.994, 83.185) ccw projected
  line L9 (32.296, 75.565) -> (20.7004, 75.565) projected
  line L10 (32.296, 12.065) -> (32.296, 75.565) projected
  line L11 (0, 12.065) -> (32.296, 12.065) projected
  line L12 (0, 0) -> (0, 12.065) projected
  line L13 (109.855, 0) -> (0, 0) projected
  line L14 (109.855, 0) -> (109.855, 12.065) projected
  line L15 (39.8272, 12.065) -> (109.855, 12.065) projected
  line L16 (39.8272, 81.28) -> (39.8272, 12.065) projected
  line L17 (39.8272, 81.28) -> (38.5572, 81.28) projected
  line L18 (38.5572, 81.28) -> (38.5572, 85.09) projected
  line L19 (39.8272, 81.28) -> (20.7004, 81.28)
  line L20 (20.7004, 81.28) -> (20.7004, 85.09)
  line L21 (20.7004, 85.09) -> (39.8272, 85.09)
  line L22 (39.8272, 85.09) -> (39.8272, 81.28)
  point P0 (138.43, 152.4)
  point P1 (21.8696, 85.09)
  point P2 (21.8696, 81.28)
extrude "Extrusion21" cut sketch "Sketch21" against normal blind 1.27 contours L18 L19 A0 L21
sketch "Sketch22" plane through (-90.114, 13.97, 161.925) normal (1, 0, 0) x (0, 0, -1)
  line L0 (194.945, -81.28) -> (194.945, -41.5925) projected
  line L1 (0, 0) -> (0, -81.28) projected
  line L2 (175.895, -166.37) -> (0, -166.37) projected
  line L3 (0, 0) -> (175.895, 0) projected
  point P0 (161.925, -13.97)
  dimension "d106" = 194.945
  dimension "d107" = 166.37
sketch "Sketch23" plane through (0, 13.97, 0) normal (0, 1, 0) x (1, 0, 0)
  line L0 (-133.294, 13.97) -> (-133.294, -161.925) projected
  line L1 (-90.114, -161.925) -> (-90.114, 13.97) projected
  point P0 (0, 0)
  dimension "d108" = 43.18
properties part number "mid side peici"
